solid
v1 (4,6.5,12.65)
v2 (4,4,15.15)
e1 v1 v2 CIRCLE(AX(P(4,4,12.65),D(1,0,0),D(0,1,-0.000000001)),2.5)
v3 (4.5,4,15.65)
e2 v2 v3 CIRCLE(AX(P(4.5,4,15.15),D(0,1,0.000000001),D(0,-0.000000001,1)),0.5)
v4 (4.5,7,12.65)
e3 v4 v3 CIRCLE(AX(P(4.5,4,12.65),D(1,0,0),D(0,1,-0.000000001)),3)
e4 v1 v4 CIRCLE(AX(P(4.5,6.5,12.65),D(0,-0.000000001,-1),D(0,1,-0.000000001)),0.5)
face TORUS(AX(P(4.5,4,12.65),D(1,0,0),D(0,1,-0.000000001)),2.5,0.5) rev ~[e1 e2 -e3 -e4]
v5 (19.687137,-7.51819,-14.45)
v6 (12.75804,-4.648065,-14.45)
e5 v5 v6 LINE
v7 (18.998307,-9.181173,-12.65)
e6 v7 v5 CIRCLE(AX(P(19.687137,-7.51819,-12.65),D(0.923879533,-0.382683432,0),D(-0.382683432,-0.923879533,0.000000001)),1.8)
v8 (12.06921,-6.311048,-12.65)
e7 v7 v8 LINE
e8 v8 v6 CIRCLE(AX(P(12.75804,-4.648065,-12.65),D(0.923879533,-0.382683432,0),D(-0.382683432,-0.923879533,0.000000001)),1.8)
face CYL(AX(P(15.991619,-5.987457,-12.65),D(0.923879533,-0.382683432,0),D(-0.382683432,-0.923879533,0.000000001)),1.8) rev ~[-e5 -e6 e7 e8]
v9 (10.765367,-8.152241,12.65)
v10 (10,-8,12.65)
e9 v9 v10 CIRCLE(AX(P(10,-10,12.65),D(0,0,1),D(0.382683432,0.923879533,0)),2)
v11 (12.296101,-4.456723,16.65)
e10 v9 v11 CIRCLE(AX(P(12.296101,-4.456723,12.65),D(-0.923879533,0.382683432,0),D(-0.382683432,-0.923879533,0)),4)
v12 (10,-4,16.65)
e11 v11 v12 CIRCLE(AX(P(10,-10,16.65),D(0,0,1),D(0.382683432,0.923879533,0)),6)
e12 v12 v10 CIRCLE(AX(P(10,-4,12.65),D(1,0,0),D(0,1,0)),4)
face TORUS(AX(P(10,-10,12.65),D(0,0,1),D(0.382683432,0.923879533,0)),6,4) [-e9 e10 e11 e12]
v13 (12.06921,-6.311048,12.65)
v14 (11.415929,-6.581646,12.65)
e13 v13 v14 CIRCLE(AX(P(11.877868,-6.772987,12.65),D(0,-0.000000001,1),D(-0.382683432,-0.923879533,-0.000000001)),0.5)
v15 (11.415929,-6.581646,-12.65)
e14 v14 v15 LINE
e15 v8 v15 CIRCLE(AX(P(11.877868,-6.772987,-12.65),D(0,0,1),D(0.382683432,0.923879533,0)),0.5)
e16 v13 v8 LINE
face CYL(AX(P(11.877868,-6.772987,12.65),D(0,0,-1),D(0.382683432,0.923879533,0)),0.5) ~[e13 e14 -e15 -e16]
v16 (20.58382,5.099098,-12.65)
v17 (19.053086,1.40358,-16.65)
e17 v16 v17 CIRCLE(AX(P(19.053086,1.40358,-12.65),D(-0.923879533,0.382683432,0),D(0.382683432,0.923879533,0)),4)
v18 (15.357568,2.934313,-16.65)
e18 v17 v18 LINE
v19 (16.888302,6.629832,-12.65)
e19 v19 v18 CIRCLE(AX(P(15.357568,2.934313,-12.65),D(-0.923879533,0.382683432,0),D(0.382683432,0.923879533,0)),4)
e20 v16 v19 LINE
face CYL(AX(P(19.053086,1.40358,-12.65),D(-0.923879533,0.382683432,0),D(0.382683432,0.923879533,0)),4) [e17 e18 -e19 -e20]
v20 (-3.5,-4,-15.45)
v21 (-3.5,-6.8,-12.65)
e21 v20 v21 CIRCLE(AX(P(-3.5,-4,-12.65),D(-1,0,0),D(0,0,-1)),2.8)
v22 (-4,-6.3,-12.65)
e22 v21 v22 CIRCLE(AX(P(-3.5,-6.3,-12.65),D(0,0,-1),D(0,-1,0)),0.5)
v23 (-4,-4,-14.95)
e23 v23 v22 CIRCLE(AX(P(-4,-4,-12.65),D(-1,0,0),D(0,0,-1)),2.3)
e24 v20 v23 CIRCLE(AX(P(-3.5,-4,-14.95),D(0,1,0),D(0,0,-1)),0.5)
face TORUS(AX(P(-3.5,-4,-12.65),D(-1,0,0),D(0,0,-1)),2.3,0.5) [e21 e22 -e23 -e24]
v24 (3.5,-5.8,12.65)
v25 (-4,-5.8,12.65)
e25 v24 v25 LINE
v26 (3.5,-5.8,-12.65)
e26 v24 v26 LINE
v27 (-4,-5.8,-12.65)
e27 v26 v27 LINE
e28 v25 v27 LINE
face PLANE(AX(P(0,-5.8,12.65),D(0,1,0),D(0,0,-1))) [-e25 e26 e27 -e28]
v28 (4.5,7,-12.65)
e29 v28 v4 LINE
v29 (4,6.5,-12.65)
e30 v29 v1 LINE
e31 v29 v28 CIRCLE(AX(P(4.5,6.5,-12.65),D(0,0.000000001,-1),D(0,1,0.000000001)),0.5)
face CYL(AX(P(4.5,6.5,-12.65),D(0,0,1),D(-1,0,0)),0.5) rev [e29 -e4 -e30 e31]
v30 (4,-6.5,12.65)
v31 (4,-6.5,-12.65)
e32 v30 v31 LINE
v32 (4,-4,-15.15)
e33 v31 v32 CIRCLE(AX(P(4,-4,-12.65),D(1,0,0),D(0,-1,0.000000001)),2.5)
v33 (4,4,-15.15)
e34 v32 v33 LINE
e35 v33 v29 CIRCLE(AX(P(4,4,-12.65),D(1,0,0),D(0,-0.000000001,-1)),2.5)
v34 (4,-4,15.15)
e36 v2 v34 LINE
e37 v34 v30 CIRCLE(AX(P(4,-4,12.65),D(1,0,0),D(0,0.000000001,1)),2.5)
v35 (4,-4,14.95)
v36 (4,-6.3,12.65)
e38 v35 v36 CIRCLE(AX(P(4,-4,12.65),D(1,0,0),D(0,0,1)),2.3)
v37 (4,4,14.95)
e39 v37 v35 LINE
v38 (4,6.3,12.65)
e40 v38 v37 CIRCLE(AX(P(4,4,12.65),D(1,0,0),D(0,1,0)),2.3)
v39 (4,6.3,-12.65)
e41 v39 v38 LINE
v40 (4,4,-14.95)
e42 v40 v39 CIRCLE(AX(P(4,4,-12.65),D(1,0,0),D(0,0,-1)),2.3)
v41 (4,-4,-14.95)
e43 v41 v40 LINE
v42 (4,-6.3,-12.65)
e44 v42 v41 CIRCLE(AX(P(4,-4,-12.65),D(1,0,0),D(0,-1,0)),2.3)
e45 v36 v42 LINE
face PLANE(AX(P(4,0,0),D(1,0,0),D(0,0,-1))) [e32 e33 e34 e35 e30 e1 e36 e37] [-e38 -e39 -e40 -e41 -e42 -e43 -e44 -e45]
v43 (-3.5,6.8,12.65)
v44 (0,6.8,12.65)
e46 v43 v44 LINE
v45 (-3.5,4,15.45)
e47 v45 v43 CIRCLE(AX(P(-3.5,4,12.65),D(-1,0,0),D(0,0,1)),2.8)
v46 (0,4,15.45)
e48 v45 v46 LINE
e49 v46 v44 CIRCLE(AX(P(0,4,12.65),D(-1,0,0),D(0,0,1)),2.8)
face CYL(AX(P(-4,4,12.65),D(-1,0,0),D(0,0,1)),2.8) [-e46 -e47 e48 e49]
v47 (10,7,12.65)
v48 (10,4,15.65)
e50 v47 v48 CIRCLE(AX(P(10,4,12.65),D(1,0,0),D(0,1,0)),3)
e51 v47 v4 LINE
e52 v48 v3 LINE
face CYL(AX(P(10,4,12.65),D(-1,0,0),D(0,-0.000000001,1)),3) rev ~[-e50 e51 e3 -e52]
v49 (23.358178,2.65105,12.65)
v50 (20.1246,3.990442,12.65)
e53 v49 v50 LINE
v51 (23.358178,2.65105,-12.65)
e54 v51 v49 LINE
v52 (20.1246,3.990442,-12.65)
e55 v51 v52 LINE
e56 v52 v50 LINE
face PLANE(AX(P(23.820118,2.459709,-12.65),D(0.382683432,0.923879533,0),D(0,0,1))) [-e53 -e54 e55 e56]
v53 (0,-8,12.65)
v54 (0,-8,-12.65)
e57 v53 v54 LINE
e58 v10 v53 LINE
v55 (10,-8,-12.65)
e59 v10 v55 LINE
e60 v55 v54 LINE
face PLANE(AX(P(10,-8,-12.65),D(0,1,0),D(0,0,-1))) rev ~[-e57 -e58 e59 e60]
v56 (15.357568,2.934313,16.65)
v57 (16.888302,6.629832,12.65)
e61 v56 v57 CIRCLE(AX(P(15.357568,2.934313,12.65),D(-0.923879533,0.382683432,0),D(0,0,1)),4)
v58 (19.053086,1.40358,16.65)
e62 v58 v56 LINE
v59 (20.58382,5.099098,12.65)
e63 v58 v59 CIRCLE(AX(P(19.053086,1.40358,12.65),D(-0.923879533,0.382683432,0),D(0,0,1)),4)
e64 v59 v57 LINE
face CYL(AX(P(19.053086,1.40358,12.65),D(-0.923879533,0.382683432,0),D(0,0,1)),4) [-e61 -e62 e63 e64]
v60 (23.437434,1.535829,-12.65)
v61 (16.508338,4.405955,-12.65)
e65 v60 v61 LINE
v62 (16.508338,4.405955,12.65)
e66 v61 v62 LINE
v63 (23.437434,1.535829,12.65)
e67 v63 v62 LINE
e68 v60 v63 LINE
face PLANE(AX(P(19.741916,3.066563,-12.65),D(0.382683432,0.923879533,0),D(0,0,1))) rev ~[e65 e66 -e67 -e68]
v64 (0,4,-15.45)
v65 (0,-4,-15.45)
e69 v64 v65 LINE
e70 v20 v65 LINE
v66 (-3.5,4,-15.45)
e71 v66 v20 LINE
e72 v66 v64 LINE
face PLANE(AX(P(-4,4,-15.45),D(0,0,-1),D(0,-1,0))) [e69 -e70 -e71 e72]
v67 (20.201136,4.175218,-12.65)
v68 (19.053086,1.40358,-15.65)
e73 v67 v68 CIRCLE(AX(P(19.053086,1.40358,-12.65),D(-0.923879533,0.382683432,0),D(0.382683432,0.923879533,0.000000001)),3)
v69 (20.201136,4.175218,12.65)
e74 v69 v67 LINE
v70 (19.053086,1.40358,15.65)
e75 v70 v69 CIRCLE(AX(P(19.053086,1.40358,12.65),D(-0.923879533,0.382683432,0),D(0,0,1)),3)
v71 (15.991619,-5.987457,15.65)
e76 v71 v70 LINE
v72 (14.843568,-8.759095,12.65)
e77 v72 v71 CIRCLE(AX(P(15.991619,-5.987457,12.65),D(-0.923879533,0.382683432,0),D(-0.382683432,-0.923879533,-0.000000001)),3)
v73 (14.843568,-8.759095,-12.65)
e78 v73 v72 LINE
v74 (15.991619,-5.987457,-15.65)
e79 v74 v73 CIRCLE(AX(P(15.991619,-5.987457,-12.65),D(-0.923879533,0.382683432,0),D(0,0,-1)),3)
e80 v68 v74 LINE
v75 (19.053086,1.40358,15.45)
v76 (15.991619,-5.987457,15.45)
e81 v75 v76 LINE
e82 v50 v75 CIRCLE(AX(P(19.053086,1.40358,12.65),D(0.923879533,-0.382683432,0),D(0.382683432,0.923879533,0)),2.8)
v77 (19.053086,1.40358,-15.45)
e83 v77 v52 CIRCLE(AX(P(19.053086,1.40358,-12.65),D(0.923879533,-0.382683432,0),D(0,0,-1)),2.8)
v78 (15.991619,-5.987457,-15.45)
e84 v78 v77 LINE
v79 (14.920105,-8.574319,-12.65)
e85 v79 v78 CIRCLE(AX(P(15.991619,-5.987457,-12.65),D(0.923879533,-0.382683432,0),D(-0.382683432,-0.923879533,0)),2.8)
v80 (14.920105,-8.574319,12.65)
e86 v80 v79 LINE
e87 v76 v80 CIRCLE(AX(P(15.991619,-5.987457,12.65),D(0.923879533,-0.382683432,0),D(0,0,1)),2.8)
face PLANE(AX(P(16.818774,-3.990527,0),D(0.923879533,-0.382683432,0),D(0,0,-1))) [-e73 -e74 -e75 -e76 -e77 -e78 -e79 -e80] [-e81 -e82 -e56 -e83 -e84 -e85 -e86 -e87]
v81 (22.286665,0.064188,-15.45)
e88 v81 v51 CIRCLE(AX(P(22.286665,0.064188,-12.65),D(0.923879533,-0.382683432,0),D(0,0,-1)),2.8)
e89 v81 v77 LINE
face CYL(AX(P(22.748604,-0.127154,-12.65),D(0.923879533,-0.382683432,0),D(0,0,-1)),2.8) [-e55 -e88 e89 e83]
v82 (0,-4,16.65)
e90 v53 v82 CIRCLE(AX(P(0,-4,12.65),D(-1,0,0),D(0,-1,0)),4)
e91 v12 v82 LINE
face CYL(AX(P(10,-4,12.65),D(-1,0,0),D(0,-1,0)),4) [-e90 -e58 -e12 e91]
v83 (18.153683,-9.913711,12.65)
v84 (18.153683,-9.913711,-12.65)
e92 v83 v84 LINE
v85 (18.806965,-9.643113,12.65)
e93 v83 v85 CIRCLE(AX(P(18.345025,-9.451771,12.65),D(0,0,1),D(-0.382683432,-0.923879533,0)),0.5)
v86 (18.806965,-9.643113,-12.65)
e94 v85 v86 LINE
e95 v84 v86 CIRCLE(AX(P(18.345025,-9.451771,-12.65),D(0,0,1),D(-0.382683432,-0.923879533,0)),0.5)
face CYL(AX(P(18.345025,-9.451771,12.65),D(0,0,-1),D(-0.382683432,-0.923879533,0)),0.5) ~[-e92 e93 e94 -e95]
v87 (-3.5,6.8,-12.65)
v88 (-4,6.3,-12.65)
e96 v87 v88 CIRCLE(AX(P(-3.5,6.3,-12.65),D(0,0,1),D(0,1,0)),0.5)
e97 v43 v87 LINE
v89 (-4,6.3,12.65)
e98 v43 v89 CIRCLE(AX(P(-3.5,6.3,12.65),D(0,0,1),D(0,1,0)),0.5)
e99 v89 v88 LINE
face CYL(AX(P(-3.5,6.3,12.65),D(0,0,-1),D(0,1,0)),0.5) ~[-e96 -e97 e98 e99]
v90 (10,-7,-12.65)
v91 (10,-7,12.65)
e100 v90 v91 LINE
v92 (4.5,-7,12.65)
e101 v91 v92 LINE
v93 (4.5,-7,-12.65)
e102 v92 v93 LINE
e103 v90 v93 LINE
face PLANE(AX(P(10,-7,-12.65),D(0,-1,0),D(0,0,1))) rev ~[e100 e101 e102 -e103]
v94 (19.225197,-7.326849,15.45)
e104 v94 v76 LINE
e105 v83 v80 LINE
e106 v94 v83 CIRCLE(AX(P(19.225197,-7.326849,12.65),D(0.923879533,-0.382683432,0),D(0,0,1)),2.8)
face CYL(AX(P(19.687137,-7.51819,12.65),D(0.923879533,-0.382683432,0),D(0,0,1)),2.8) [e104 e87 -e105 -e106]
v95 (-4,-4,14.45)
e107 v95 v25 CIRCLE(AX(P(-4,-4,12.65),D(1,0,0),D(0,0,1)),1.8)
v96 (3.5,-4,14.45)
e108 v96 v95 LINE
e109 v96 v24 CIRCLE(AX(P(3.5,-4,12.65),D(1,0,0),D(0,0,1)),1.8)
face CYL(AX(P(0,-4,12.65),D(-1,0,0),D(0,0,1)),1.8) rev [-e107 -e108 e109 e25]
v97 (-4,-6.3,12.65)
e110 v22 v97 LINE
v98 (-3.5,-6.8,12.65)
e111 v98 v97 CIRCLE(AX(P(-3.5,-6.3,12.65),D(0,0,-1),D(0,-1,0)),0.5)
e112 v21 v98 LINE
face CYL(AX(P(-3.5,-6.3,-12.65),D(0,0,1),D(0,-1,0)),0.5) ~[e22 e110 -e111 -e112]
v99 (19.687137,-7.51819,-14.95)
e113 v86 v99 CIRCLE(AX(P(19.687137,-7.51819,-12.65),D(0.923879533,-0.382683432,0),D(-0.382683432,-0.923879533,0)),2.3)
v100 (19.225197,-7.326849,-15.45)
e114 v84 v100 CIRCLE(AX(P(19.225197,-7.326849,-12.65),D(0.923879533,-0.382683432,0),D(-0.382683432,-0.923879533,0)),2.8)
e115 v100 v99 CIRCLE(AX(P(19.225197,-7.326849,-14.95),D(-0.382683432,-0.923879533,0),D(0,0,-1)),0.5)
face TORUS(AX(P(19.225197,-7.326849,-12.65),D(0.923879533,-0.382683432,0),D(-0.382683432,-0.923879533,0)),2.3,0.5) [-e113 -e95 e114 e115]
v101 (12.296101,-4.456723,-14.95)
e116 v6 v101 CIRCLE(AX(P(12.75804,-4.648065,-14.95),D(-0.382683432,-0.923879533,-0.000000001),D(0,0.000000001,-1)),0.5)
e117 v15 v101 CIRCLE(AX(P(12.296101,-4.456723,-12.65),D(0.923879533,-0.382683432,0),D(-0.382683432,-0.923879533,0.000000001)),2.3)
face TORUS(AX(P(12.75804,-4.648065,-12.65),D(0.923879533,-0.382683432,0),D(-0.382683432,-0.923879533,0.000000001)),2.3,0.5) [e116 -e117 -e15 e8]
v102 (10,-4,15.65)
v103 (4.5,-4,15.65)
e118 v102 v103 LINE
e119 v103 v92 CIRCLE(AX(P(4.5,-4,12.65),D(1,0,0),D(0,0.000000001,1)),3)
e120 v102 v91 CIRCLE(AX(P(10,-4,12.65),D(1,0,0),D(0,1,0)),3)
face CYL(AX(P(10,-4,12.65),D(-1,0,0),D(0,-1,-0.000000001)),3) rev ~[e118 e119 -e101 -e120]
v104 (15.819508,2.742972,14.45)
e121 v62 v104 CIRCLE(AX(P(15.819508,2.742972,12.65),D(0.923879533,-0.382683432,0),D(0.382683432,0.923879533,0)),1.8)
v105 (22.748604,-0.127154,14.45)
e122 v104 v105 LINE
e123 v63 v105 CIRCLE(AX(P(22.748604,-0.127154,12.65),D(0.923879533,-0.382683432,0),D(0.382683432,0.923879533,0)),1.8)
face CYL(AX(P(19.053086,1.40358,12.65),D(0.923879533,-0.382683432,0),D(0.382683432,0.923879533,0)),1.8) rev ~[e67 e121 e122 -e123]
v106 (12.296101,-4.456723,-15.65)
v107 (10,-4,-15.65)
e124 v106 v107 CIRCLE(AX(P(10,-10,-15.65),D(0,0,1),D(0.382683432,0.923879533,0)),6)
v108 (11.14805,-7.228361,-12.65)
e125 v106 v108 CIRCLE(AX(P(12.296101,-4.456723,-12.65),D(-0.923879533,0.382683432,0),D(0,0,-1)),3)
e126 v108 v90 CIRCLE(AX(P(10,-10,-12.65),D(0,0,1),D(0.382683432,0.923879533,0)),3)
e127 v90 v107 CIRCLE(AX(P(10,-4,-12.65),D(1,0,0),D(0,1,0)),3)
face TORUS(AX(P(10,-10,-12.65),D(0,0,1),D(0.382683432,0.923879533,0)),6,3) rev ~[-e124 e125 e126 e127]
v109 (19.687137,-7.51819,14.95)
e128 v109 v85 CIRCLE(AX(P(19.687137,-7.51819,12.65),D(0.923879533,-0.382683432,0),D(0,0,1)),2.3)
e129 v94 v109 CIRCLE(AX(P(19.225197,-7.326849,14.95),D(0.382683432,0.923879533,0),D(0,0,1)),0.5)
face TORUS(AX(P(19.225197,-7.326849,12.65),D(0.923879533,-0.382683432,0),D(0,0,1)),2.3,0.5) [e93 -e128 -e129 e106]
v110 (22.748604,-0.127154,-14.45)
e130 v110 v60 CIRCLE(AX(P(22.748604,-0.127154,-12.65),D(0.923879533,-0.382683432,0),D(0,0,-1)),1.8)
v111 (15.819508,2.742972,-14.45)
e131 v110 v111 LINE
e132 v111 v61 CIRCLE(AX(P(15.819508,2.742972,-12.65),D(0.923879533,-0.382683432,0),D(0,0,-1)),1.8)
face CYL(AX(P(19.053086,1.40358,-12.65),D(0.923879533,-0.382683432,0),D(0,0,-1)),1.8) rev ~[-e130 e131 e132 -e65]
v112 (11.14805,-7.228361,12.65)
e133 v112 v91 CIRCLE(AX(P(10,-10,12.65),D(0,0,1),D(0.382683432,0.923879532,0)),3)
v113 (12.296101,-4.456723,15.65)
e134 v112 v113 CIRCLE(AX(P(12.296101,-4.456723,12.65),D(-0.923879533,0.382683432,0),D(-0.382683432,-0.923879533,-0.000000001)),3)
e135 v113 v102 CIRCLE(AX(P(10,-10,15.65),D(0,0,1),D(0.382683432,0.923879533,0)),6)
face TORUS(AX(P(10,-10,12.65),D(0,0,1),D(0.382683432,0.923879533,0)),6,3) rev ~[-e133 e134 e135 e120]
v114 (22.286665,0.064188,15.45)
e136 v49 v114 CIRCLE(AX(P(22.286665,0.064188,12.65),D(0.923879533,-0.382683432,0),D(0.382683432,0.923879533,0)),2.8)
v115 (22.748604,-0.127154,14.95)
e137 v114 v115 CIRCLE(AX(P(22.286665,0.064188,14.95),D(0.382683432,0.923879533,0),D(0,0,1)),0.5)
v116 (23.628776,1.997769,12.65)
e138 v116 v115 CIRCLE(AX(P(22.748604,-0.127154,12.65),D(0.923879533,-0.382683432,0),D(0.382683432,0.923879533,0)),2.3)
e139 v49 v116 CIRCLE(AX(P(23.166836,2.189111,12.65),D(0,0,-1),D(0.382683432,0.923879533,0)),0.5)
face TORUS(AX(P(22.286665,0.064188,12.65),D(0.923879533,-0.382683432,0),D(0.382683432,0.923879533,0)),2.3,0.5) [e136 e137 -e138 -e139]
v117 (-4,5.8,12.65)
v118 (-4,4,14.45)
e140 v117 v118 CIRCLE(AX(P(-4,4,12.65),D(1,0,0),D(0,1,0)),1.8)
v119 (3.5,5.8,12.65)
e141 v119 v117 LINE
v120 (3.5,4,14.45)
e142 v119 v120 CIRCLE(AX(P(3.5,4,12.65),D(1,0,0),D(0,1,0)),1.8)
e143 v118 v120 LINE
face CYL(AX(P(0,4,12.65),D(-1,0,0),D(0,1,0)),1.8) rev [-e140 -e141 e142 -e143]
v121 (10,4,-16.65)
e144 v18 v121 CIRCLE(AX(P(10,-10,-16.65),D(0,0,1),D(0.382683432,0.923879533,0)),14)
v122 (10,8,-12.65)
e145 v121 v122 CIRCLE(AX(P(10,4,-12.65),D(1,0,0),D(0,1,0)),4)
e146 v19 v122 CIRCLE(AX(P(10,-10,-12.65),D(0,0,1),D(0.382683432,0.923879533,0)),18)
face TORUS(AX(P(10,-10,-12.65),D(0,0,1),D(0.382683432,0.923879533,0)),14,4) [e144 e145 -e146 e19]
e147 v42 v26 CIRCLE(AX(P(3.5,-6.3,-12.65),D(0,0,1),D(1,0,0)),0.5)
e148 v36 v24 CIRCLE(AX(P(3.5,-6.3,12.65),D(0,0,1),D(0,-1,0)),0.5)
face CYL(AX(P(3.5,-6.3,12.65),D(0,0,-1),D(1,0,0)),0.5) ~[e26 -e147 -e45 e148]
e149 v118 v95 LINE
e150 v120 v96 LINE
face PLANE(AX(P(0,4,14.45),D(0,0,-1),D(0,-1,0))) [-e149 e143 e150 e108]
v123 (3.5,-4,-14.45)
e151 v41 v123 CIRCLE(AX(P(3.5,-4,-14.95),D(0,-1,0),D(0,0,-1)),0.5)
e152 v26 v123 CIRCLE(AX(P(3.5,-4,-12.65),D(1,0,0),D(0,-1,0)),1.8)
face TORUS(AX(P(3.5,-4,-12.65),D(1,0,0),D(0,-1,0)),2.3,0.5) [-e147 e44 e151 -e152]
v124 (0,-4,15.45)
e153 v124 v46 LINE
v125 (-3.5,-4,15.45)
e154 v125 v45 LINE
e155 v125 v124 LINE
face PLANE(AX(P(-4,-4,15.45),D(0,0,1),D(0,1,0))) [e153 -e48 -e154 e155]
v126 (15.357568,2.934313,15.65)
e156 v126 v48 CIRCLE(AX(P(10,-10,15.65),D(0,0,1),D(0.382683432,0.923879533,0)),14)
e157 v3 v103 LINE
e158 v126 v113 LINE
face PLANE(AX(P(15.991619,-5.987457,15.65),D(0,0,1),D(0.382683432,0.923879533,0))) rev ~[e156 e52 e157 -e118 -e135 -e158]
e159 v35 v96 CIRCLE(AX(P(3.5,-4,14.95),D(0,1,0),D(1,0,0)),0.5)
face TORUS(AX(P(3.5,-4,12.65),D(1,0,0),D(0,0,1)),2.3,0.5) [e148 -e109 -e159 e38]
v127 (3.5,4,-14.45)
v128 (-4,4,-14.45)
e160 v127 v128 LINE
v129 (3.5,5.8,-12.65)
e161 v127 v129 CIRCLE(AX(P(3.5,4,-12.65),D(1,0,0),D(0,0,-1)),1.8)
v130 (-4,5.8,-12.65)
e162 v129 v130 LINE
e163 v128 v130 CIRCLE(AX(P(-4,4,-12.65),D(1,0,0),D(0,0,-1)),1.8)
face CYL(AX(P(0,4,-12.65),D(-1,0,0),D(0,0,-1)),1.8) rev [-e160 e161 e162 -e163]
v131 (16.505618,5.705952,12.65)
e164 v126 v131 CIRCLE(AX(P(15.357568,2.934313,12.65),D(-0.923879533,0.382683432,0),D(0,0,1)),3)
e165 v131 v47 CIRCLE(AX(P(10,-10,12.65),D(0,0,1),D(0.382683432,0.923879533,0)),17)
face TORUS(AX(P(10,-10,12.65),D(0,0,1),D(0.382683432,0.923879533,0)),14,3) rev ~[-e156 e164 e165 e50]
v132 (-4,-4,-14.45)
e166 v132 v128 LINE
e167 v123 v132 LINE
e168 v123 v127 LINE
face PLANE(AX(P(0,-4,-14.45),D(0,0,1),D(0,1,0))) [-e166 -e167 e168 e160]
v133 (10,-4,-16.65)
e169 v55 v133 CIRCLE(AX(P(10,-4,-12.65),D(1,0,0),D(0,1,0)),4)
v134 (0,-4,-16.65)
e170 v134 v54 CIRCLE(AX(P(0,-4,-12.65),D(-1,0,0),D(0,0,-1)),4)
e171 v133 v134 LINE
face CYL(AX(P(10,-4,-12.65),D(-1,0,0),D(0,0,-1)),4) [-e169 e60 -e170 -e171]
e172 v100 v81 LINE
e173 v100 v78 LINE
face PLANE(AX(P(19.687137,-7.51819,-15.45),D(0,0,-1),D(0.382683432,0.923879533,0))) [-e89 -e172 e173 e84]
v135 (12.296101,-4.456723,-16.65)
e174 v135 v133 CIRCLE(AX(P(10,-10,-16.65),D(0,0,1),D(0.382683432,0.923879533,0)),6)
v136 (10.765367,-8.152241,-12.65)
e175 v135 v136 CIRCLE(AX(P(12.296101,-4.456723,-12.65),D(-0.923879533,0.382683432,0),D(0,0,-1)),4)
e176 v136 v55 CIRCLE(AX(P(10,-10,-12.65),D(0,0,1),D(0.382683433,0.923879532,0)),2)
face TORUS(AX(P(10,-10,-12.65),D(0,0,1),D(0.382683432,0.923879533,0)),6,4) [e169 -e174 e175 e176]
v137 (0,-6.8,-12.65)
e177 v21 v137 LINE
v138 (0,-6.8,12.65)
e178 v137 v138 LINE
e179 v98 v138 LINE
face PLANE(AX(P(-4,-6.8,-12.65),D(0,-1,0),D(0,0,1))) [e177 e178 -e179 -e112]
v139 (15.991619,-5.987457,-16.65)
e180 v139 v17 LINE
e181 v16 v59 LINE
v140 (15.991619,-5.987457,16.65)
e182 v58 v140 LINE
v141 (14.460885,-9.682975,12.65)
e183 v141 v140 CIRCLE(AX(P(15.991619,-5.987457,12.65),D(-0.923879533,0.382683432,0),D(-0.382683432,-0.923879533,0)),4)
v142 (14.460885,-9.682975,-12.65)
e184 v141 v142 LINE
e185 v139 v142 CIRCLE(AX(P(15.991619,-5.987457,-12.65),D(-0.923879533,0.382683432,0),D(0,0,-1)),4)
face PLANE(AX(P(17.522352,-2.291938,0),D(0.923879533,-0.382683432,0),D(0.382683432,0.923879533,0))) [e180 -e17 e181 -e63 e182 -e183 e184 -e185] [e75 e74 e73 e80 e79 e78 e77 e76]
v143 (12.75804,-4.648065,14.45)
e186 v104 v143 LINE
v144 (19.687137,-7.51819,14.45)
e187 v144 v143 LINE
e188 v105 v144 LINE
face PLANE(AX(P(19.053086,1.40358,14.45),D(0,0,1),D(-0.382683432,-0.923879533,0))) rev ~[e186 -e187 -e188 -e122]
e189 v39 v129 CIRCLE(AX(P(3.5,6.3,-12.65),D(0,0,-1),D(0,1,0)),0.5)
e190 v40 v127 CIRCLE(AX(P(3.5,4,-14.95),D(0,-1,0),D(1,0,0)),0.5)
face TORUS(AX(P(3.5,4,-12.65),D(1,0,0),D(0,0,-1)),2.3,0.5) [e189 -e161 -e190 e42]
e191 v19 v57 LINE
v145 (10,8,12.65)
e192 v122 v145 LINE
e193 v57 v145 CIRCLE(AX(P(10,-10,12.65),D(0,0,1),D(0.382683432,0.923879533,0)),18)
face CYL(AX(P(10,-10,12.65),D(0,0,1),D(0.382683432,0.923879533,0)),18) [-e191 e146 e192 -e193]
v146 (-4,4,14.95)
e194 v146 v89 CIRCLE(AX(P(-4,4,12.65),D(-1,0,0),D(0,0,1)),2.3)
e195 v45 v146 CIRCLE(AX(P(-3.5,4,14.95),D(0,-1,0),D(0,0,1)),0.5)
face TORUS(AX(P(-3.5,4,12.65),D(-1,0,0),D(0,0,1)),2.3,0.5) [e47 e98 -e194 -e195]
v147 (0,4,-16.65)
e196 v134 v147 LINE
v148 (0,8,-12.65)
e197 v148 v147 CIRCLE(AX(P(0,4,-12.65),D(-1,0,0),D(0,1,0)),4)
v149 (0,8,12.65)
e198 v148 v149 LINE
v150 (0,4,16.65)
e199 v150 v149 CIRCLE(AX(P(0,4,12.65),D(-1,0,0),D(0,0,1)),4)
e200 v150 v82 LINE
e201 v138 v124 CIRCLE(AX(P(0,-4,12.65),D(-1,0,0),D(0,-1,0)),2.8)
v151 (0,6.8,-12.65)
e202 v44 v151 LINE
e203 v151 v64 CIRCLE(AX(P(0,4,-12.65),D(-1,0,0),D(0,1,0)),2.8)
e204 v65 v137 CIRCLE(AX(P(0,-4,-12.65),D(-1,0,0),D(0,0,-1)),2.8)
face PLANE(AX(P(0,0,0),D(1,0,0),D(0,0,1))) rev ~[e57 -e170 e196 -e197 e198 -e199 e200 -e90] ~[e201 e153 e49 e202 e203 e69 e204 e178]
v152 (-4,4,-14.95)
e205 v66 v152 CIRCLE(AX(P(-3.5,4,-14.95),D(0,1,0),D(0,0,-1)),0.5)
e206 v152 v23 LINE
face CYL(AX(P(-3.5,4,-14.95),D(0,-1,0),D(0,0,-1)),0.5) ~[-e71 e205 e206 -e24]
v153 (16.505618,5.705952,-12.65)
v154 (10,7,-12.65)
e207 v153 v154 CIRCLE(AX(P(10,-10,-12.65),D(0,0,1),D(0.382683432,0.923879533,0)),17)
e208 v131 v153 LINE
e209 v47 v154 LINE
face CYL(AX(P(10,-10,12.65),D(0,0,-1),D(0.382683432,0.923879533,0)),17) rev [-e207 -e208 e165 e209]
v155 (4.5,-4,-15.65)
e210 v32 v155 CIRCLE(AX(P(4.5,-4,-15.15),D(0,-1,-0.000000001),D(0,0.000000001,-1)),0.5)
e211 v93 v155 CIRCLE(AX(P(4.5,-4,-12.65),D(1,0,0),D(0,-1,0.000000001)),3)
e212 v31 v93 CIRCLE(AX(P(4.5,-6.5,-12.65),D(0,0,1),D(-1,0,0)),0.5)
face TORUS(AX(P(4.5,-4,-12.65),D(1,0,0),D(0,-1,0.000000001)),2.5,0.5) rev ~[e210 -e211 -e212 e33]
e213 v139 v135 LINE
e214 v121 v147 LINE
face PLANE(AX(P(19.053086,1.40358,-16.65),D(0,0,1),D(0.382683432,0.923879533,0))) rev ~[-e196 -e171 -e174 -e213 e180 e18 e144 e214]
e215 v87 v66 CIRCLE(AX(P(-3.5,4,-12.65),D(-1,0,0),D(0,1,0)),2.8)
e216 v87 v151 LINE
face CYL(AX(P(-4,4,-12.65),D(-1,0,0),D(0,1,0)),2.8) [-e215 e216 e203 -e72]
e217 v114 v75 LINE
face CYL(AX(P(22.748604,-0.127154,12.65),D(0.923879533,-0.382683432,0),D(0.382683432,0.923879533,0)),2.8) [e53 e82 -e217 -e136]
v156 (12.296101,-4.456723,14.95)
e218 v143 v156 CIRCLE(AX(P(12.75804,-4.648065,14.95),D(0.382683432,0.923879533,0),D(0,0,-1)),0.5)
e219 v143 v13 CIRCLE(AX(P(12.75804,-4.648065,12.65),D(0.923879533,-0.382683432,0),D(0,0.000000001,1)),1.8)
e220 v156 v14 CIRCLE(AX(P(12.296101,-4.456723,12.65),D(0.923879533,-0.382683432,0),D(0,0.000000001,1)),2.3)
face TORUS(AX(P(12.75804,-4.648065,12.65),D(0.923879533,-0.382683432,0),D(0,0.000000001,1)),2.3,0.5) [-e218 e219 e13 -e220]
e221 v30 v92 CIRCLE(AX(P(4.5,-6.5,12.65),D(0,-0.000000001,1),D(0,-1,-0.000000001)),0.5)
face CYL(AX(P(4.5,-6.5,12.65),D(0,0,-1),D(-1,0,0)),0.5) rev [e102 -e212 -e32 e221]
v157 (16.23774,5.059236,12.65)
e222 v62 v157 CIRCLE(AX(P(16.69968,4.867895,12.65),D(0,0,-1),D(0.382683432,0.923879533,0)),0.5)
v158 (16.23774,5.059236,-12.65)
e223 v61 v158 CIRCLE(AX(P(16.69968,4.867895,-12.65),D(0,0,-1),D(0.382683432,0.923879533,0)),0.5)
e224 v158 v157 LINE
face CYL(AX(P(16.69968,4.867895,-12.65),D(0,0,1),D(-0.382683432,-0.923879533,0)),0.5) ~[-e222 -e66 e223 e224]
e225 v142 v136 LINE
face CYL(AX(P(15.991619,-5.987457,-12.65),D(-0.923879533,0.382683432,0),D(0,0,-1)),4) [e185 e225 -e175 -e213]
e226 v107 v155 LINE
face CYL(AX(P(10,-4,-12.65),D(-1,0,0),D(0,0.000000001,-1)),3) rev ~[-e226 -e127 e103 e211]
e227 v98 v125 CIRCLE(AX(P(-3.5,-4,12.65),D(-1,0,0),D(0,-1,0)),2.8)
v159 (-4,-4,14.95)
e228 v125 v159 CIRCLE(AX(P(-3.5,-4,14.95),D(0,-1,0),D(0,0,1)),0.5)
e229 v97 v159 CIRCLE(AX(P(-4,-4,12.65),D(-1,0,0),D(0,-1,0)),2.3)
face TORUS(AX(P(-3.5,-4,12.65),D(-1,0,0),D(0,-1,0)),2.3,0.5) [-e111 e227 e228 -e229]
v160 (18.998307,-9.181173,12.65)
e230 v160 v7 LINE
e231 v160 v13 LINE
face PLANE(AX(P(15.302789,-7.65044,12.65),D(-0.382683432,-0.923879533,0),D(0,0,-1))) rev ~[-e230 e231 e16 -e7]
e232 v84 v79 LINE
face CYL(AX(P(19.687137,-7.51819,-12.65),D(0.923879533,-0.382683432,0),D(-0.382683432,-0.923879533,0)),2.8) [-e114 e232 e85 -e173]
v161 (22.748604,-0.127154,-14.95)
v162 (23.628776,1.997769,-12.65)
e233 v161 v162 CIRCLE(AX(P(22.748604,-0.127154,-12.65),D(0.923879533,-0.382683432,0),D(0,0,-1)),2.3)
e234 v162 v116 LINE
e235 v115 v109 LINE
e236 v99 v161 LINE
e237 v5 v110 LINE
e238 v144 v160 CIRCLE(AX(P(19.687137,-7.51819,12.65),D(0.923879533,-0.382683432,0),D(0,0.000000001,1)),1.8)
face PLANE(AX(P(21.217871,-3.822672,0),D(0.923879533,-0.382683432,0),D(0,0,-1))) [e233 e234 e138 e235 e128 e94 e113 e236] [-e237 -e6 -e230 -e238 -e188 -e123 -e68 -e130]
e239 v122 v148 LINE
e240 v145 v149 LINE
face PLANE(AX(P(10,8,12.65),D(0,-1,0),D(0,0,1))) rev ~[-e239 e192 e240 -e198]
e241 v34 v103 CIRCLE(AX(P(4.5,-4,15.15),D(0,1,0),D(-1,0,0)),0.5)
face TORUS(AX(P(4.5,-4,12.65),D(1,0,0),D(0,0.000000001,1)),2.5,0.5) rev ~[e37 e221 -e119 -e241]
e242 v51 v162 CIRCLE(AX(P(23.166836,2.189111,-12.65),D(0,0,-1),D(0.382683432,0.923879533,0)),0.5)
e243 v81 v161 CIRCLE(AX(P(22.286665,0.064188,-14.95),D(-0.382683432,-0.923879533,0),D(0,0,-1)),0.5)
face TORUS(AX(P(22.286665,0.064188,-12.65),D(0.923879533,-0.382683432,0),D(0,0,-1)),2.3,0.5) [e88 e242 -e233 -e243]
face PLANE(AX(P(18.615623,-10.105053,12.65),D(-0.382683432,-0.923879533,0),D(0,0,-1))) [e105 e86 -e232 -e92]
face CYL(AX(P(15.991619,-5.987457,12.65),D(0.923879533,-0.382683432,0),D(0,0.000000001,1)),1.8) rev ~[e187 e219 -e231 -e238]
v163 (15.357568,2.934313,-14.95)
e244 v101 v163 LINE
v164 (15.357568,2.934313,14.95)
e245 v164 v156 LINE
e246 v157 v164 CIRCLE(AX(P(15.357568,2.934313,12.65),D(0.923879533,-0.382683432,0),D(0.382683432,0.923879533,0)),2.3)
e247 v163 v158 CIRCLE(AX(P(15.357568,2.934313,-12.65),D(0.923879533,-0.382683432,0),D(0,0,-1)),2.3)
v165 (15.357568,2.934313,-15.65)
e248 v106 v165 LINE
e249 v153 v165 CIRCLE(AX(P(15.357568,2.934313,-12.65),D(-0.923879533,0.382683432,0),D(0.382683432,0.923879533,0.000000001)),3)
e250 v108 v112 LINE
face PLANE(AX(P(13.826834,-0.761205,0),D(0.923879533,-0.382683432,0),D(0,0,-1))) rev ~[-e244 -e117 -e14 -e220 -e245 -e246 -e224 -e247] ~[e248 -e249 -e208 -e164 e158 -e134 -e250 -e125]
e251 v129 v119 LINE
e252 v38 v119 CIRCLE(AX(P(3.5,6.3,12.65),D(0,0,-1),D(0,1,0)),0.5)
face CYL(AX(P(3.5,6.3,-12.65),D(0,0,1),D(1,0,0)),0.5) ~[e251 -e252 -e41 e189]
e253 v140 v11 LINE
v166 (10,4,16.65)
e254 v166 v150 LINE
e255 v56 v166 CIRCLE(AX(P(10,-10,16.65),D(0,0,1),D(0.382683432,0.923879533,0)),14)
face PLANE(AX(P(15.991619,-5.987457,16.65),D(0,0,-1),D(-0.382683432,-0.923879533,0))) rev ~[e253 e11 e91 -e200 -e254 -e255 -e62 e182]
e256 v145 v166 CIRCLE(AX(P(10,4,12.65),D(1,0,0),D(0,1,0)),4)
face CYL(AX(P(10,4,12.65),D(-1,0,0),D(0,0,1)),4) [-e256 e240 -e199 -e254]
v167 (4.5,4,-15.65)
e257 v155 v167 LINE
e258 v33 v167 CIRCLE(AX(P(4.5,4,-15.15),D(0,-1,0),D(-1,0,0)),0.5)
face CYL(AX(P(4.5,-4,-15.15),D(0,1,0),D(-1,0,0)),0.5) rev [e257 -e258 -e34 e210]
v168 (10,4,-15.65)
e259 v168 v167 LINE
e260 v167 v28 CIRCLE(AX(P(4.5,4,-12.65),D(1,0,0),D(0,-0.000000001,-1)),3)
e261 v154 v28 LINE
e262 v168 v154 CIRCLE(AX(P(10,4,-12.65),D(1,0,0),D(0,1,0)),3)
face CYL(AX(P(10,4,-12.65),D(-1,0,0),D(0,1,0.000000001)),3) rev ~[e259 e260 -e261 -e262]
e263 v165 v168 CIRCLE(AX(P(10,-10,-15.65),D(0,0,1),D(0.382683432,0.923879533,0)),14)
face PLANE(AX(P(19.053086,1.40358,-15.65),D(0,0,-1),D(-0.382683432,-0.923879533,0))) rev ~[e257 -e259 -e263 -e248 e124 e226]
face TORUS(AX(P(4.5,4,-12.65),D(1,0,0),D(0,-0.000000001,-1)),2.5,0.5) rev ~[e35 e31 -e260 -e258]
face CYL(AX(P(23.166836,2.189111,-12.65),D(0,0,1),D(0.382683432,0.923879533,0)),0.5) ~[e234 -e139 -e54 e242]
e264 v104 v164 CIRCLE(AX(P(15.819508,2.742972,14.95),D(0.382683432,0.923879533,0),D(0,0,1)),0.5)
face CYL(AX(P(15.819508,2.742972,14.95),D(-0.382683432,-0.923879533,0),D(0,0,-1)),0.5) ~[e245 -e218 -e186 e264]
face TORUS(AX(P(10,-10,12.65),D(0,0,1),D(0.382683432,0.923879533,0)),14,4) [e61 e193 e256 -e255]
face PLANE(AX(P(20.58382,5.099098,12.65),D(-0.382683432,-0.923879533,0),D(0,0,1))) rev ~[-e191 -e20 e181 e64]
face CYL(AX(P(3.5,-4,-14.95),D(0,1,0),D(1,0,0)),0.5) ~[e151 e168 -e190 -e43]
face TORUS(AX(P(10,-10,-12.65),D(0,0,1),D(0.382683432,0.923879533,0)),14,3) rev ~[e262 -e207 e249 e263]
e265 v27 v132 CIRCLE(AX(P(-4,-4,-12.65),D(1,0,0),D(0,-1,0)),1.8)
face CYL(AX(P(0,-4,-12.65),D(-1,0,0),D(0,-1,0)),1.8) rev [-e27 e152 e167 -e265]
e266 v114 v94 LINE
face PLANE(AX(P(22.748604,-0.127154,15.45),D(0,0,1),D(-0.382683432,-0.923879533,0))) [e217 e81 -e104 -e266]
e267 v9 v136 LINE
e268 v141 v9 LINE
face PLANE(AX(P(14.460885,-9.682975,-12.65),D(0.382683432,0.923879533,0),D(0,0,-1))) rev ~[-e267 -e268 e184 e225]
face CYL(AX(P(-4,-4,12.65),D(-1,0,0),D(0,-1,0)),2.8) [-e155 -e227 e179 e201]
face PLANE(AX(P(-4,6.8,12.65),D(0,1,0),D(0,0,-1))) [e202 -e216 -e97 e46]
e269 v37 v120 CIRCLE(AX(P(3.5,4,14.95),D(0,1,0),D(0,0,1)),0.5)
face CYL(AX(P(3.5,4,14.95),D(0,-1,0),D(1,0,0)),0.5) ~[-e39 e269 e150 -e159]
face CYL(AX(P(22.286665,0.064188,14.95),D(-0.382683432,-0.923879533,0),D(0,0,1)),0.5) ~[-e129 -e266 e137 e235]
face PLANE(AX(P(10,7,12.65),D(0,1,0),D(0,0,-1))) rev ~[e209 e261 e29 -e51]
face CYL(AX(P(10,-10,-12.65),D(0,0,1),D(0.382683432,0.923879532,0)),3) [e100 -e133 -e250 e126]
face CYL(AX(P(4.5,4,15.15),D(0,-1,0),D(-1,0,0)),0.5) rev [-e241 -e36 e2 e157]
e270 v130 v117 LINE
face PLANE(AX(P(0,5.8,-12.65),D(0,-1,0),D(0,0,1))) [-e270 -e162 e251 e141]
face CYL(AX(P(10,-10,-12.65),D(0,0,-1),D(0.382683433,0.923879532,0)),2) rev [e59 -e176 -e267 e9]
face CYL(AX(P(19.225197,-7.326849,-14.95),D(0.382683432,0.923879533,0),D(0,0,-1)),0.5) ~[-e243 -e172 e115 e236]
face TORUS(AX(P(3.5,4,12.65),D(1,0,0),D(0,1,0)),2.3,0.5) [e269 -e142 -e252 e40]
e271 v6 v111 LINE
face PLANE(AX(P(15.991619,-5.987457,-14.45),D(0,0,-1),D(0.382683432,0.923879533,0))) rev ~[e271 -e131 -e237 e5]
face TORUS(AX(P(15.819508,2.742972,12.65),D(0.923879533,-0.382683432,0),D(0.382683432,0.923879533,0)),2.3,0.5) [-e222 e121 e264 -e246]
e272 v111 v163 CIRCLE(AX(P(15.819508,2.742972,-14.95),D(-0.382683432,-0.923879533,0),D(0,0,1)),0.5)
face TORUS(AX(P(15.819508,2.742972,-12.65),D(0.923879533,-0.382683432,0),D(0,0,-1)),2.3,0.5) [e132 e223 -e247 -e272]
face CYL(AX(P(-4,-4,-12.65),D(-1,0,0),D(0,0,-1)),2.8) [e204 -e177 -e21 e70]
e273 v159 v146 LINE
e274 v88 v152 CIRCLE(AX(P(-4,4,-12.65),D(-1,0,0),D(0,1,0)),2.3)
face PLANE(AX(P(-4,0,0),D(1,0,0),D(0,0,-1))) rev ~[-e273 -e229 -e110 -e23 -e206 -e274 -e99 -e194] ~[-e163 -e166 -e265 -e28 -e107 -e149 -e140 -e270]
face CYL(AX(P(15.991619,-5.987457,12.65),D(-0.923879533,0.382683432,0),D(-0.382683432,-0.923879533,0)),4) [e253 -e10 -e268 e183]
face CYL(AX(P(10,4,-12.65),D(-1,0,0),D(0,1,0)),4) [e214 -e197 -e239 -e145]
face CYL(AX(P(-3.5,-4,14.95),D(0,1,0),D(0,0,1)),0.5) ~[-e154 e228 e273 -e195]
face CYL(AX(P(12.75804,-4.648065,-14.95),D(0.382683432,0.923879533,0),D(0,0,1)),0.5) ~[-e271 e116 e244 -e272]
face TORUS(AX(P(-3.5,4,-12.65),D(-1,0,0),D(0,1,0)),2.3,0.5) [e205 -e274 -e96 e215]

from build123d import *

# Parameters (mm, degrees)
BOSS_EXTRUDE1_DEPTH = 4
SKETCH5_OUTSIDE_W   = 44.302
SKETCH5_OUTSIDE_H   = 28.685
CUT_EXTRUDE1_DEPTH  = 4
FILLET1_R           = 0.5
BOSS_EXTRUDE2_DEPTH = 4
SKETCH9_OUTSIDE_W   = 44.726
SKETCH9_OUTSIDE_H   = 38.999
CUT_EXTRUDE2_DEPTH  = 4
FILLET2_R           = 0.5


with BuildPart() as part:
    # Sweep1: sweep along a path in Sketch2path
    with BuildLine(Plane.XY) as sweep1_path:
        Line((17.522352454, -2.291938404), (13.826834324, -0.761204675))
        ThreePointArc((13.826834324, -0.761204675), (11.95090322, -0.192147196), (10, 0))
        Line((10, 0), (0, 0))
    # Sketch3 → Sweep1 (sweep)
    with BuildSketch(Plane(origin=(0, 0, 0), x_dir=(0, 0, -1), z_dir=(1, 0, 0))):
        with BuildLine():
            Line((-16.65, -4), (-16.65, 4))
            ThreePointArc((-16.65, 4), (-15.478427125, 6.828427125), (-12.65, 8))
            Line((-12.65, 8), (12.65, 8))
            ThreePointArc((12.65, 8), (15.478427125, 6.828427125), (16.65, 4))
            Line((16.65, 4), (16.65, -4))
            ThreePointArc((16.65, -4), (15.478427125, -6.828427125), (12.65, -8))
            Line((12.65, -8), (-12.65, -8))
            ThreePointArc((-12.65, -8), (-15.478427125, -6.828427125), (-16.65, -4))
        make_face()
        with BuildLine():
            Line((-15.65, -4), (-15.65, 4))
            ThreePointArc((-15.65, 4), (-14.771320344, 6.121320344), (-12.65, 7))
            Line((-12.65, 7), (12.65, 7))
            ThreePointArc((12.65, 7), (14.771320344, 6.121320344), (15.65, 4))
            Line((15.65, 4), (15.65, -4))
            ThreePointArc((15.65, -4), (14.771320344, -6.121320344), (12.65, -7))
            Line((12.65, -7), (-12.65, -7))
            ThreePointArc((-12.65, -7), (-14.771320344, -6.121320344), (-15.65, -4))
        make_face(mode=Mode.SUBTRACT)
    sweep(path=sweep1_path.line)

    # Sketch4 → Boss-Extrude1 (add, symmetric)
    with BuildSketch(Plane.ZY):
        with BuildLine():
            Line((15.65, 4), (15.65, -4))
            ThreePointArc((15.65, -4), (14.771320344, -6.121320344), (12.65, -7))
            Line((12.65, -7), (-12.65, -7))
            ThreePointArc((-12.65, -7), (-14.771320344, -6.121320344), (-15.65, -4))
            Line((-15.65, -4), (-15.65, 4))
            ThreePointArc((-15.65, 4), (-14.771320344, 6.121320344), (-12.65, 7))
            Line((-12.65, 7), (12.65, 7))
            ThreePointArc((12.65, 7), (14.771320344, 6.121320344), (15.65, 4))
        make_face()
        with BuildLine():
            Line((14.45, 4), (14.45, -4))
            ThreePointArc((14.45, -4), (13.922792206, -5.272792206), (12.65, -5.8))
            Line((12.65, -5.8), (-12.65, -5.8))
            ThreePointArc((-12.65, -5.8), (-13.922792206, -5.272792206), (-14.45, -4))
            Line((-14.45, -4), (-14.45, 4))
            ThreePointArc((-14.45, 4), (-13.922792206, 5.272792206), (-12.65, 5.8))
            Line((-12.65, 5.8), (12.65, 5.8))
            ThreePointArc((12.65, 5.8), (13.922792206, 5.272792206), (14.45, 4))
        make_face(mode=Mode.SUBTRACT)
    extrude(amount=BOSS_EXTRUDE1_DEPTH, both=True)

    # Sketch5 outside → Cut-Extrude1 (cut)
    with BuildSketch(Plane.ZY.offset(4)):
        with Locations((0, -0.8415)):
            Rectangle(SKETCH5_OUTSIDE_W, SKETCH5_OUTSIDE_H)
        with BuildLine():
            Line((12.65, 6.8), (-12.65, 6.8))
            ThreePointArc((-12.65, 6.8), (-14.629898987, 5.979898987), (-15.45, 4))
            Line((-15.45, 4), (-15.45, -4))
            ThreePointArc((-15.45, -4), (-14.629898987, -5.979898987), (-12.65, -6.8))
            Line((-12.65, -6.8), (12.65, -6.8))
            ThreePointArc((12.65, -6.8), (14.629898987, -5.979898987), (15.45, -4))
            Line((15.45, -4), (15.45, 4))
            ThreePointArc((15.45, 4), (14.629898987, 5.979898987), (12.65, 6.8))
        make_face(mode=Mode.SUBTRACT)
    extrude(amount=-CUT_EXTRUDE1_DEPTH, mode=Mode.SUBTRACT)

    # Fillet1
    fillet1_edges = [part.edges().sort_by_distance(p)[0] for p in [
        (4, 5.272792206, 13.922792206),
        (4, 5.8, 0),
        (4, 5.272792206, -13.922792206),
        (4, 0, -14.45),
        (4, -5.272792206, -13.922792206),
        (4, -5.8, 0),
        (4, -5.272792206, 13.922792206),
        (4, 0, 14.45),
        (4, 6.121320344, 14.771320344),
        (4, 7, 0),
        (4, 6.121320344, -14.771320344),
        (4, 0, -15.65),
        (4, -6.121320344, -14.771320344),
        (4, -7, 0),
        (4, -6.121320344, 14.771320344),
        (4, 0, 15.65),
        (-4, 5.979898987, 14.629898987),
        (-4, 0, 15.45),
        (-4, -5.979898987, 14.629898987),
        (-4, -6.8, 0),
        (-4, -5.979898987, -14.629898987),
        (-4, 0, -15.45),
        (-4, 5.979898987, -14.629898987),
        (-4, 6.8, 0),
    ]]
    fillet(fillet1_edges, radius=FILLET1_R)

    # Sketch6 → Boss-Extrude2 (add, symmetric)
    with BuildSketch(Plane(origin=(15.766585942, -6.530733729, 0), x_dir=(0, 0, -1), z_dir=(0.9238795325112864, -0.38268343236509084, 0))):
        with BuildLine():
            Line((-15.65, 8.588038999), (-15.65, 0.588038999))
            ThreePointArc((-15.65, 0.588038999), (-14.771320344, -1.533281345), (-12.65, -2.411961001))
            Line((-12.65, -2.411961001), (12.65, -2.411961001))
            ThreePointArc((12.65, -2.411961001), (14.771320344, -1.533281345), (15.65, 0.588038999))
            Line((15.65, 0.588038999), (15.65, 8.588038999))
            ThreePointArc((15.65, 8.588038999), (14.771320344, 10.709359342), (12.65, 11.588038999))
            Line((12.65, 11.588038999), (-12.65, 11.588038999))
            ThreePointArc((-12.65, 11.588038999), (-14.771320344, 10.709359342), (-15.65, 8.588038999))
        make_face()
        with BuildLine():
            Line((-14.45, 8.588038999), (-14.45, 0.588038999))
            ThreePointArc((-14.45, 0.588038999), (-13.922792206, -0.684753208), (-12.65, -1.211961001))
            Line((-12.65, -1.211961001), (12.65, -1.211961001))
            ThreePointArc((12.65, -1.211961001), (13.922792206, -0.684753208), (14.45, 0.588038999))
            Line((14.45, 0.588038999), (14.45, 8.588038999))
            ThreePointArc((14.45, 8.588038999), (13.922792206, 9.860831205), (12.65, 10.388038999))
            Line((12.65, 10.388038999), (-12.65, 10.388038999))
            ThreePointArc((-12.65, 10.388038999), (-13.922792206, 9.860831205), (-14.45, 8.588038999))
        make_face(mode=Mode.SUBTRACT)
    extrude(amount=BOSS_EXTRUDE2_DEPTH, both=True)

    # Sketch9 outside → Cut-Extrude2 (cut)
    with BuildSketch(Plane(origin=(19.462104072, -8.061467459, 0), x_dir=(0, 0, -1), z_dir=(0.9238795325112863, -0.3826834323650909, 0))):
        with Locations((0, 2.7495)):
            Rectangle(SKETCH9_OUTSIDE_W, SKETCH9_OUTSIDE_H)
        with BuildLine():
            Line((-12.65, -2.211961001), (12.65, -2.211961001))
            ThreePointArc((12.65, -2.211961001), (14.629898987, -1.391859989), (15.45, 0.588038999))
            Line((15.45, 0.588038999), (15.45, 8.588038999))
            ThreePointArc((15.45, 8.588038999), (14.629898987, 10.567937986), (12.65, 11.388038999))
            Line((12.65, 11.388038999), (-12.65, 11.388038999))
            ThreePointArc((-12.65, 11.388038999), (-14.629898987, 10.567937986), (-15.45, 8.588038999))
            Line((-15.45, 8.588038999), (-15.45, 0.588038999))
            ThreePointArc((-15.45, 0.588038999), (-14.629898987, -1.391859989), (-12.65, -2.211961001))
        make_face(mode=Mode.SUBTRACT)
    extrude(amount=-CUT_EXTRUDE2_DEPTH, mode=Mode.SUBTRACT)

    # Fillet2
    fillet2_edges = [part.edges().sort_by_distance(p)[0] for p in [
        (15.844644543, 4.110220124, 13.922792206),
        (13.826834324, -0.761204675, 14.45),
        (11.809024104, -5.632629473, 13.922792206),
        (11.607270416, -6.119705963, 0),
        (11.809024104, -5.632629473, -13.922792206),
        (13.826834324, -0.761204675, -14.45),
        (15.844644543, 4.110220124, -13.922792206),
        (16.046398231, 4.597296614, 0),
        (18.615623244, -10.105052955, 0),
        (18.929462314, -9.347378415, -14.629898987),
        (21.217870584, -3.822672134, -15.45),
        (23.506278853, 1.702034147, -14.629898987),
        (23.820117924, 2.459708687, 0),
        (23.506278853, 1.702034147, 14.629898987),
        (21.217870584, -3.822672134, 15.45),
        (18.929462314, -9.347378415, 14.629898987),
    ]]
    fillet(fillet2_edges, radius=FILLET2_R)


solid = part.part
